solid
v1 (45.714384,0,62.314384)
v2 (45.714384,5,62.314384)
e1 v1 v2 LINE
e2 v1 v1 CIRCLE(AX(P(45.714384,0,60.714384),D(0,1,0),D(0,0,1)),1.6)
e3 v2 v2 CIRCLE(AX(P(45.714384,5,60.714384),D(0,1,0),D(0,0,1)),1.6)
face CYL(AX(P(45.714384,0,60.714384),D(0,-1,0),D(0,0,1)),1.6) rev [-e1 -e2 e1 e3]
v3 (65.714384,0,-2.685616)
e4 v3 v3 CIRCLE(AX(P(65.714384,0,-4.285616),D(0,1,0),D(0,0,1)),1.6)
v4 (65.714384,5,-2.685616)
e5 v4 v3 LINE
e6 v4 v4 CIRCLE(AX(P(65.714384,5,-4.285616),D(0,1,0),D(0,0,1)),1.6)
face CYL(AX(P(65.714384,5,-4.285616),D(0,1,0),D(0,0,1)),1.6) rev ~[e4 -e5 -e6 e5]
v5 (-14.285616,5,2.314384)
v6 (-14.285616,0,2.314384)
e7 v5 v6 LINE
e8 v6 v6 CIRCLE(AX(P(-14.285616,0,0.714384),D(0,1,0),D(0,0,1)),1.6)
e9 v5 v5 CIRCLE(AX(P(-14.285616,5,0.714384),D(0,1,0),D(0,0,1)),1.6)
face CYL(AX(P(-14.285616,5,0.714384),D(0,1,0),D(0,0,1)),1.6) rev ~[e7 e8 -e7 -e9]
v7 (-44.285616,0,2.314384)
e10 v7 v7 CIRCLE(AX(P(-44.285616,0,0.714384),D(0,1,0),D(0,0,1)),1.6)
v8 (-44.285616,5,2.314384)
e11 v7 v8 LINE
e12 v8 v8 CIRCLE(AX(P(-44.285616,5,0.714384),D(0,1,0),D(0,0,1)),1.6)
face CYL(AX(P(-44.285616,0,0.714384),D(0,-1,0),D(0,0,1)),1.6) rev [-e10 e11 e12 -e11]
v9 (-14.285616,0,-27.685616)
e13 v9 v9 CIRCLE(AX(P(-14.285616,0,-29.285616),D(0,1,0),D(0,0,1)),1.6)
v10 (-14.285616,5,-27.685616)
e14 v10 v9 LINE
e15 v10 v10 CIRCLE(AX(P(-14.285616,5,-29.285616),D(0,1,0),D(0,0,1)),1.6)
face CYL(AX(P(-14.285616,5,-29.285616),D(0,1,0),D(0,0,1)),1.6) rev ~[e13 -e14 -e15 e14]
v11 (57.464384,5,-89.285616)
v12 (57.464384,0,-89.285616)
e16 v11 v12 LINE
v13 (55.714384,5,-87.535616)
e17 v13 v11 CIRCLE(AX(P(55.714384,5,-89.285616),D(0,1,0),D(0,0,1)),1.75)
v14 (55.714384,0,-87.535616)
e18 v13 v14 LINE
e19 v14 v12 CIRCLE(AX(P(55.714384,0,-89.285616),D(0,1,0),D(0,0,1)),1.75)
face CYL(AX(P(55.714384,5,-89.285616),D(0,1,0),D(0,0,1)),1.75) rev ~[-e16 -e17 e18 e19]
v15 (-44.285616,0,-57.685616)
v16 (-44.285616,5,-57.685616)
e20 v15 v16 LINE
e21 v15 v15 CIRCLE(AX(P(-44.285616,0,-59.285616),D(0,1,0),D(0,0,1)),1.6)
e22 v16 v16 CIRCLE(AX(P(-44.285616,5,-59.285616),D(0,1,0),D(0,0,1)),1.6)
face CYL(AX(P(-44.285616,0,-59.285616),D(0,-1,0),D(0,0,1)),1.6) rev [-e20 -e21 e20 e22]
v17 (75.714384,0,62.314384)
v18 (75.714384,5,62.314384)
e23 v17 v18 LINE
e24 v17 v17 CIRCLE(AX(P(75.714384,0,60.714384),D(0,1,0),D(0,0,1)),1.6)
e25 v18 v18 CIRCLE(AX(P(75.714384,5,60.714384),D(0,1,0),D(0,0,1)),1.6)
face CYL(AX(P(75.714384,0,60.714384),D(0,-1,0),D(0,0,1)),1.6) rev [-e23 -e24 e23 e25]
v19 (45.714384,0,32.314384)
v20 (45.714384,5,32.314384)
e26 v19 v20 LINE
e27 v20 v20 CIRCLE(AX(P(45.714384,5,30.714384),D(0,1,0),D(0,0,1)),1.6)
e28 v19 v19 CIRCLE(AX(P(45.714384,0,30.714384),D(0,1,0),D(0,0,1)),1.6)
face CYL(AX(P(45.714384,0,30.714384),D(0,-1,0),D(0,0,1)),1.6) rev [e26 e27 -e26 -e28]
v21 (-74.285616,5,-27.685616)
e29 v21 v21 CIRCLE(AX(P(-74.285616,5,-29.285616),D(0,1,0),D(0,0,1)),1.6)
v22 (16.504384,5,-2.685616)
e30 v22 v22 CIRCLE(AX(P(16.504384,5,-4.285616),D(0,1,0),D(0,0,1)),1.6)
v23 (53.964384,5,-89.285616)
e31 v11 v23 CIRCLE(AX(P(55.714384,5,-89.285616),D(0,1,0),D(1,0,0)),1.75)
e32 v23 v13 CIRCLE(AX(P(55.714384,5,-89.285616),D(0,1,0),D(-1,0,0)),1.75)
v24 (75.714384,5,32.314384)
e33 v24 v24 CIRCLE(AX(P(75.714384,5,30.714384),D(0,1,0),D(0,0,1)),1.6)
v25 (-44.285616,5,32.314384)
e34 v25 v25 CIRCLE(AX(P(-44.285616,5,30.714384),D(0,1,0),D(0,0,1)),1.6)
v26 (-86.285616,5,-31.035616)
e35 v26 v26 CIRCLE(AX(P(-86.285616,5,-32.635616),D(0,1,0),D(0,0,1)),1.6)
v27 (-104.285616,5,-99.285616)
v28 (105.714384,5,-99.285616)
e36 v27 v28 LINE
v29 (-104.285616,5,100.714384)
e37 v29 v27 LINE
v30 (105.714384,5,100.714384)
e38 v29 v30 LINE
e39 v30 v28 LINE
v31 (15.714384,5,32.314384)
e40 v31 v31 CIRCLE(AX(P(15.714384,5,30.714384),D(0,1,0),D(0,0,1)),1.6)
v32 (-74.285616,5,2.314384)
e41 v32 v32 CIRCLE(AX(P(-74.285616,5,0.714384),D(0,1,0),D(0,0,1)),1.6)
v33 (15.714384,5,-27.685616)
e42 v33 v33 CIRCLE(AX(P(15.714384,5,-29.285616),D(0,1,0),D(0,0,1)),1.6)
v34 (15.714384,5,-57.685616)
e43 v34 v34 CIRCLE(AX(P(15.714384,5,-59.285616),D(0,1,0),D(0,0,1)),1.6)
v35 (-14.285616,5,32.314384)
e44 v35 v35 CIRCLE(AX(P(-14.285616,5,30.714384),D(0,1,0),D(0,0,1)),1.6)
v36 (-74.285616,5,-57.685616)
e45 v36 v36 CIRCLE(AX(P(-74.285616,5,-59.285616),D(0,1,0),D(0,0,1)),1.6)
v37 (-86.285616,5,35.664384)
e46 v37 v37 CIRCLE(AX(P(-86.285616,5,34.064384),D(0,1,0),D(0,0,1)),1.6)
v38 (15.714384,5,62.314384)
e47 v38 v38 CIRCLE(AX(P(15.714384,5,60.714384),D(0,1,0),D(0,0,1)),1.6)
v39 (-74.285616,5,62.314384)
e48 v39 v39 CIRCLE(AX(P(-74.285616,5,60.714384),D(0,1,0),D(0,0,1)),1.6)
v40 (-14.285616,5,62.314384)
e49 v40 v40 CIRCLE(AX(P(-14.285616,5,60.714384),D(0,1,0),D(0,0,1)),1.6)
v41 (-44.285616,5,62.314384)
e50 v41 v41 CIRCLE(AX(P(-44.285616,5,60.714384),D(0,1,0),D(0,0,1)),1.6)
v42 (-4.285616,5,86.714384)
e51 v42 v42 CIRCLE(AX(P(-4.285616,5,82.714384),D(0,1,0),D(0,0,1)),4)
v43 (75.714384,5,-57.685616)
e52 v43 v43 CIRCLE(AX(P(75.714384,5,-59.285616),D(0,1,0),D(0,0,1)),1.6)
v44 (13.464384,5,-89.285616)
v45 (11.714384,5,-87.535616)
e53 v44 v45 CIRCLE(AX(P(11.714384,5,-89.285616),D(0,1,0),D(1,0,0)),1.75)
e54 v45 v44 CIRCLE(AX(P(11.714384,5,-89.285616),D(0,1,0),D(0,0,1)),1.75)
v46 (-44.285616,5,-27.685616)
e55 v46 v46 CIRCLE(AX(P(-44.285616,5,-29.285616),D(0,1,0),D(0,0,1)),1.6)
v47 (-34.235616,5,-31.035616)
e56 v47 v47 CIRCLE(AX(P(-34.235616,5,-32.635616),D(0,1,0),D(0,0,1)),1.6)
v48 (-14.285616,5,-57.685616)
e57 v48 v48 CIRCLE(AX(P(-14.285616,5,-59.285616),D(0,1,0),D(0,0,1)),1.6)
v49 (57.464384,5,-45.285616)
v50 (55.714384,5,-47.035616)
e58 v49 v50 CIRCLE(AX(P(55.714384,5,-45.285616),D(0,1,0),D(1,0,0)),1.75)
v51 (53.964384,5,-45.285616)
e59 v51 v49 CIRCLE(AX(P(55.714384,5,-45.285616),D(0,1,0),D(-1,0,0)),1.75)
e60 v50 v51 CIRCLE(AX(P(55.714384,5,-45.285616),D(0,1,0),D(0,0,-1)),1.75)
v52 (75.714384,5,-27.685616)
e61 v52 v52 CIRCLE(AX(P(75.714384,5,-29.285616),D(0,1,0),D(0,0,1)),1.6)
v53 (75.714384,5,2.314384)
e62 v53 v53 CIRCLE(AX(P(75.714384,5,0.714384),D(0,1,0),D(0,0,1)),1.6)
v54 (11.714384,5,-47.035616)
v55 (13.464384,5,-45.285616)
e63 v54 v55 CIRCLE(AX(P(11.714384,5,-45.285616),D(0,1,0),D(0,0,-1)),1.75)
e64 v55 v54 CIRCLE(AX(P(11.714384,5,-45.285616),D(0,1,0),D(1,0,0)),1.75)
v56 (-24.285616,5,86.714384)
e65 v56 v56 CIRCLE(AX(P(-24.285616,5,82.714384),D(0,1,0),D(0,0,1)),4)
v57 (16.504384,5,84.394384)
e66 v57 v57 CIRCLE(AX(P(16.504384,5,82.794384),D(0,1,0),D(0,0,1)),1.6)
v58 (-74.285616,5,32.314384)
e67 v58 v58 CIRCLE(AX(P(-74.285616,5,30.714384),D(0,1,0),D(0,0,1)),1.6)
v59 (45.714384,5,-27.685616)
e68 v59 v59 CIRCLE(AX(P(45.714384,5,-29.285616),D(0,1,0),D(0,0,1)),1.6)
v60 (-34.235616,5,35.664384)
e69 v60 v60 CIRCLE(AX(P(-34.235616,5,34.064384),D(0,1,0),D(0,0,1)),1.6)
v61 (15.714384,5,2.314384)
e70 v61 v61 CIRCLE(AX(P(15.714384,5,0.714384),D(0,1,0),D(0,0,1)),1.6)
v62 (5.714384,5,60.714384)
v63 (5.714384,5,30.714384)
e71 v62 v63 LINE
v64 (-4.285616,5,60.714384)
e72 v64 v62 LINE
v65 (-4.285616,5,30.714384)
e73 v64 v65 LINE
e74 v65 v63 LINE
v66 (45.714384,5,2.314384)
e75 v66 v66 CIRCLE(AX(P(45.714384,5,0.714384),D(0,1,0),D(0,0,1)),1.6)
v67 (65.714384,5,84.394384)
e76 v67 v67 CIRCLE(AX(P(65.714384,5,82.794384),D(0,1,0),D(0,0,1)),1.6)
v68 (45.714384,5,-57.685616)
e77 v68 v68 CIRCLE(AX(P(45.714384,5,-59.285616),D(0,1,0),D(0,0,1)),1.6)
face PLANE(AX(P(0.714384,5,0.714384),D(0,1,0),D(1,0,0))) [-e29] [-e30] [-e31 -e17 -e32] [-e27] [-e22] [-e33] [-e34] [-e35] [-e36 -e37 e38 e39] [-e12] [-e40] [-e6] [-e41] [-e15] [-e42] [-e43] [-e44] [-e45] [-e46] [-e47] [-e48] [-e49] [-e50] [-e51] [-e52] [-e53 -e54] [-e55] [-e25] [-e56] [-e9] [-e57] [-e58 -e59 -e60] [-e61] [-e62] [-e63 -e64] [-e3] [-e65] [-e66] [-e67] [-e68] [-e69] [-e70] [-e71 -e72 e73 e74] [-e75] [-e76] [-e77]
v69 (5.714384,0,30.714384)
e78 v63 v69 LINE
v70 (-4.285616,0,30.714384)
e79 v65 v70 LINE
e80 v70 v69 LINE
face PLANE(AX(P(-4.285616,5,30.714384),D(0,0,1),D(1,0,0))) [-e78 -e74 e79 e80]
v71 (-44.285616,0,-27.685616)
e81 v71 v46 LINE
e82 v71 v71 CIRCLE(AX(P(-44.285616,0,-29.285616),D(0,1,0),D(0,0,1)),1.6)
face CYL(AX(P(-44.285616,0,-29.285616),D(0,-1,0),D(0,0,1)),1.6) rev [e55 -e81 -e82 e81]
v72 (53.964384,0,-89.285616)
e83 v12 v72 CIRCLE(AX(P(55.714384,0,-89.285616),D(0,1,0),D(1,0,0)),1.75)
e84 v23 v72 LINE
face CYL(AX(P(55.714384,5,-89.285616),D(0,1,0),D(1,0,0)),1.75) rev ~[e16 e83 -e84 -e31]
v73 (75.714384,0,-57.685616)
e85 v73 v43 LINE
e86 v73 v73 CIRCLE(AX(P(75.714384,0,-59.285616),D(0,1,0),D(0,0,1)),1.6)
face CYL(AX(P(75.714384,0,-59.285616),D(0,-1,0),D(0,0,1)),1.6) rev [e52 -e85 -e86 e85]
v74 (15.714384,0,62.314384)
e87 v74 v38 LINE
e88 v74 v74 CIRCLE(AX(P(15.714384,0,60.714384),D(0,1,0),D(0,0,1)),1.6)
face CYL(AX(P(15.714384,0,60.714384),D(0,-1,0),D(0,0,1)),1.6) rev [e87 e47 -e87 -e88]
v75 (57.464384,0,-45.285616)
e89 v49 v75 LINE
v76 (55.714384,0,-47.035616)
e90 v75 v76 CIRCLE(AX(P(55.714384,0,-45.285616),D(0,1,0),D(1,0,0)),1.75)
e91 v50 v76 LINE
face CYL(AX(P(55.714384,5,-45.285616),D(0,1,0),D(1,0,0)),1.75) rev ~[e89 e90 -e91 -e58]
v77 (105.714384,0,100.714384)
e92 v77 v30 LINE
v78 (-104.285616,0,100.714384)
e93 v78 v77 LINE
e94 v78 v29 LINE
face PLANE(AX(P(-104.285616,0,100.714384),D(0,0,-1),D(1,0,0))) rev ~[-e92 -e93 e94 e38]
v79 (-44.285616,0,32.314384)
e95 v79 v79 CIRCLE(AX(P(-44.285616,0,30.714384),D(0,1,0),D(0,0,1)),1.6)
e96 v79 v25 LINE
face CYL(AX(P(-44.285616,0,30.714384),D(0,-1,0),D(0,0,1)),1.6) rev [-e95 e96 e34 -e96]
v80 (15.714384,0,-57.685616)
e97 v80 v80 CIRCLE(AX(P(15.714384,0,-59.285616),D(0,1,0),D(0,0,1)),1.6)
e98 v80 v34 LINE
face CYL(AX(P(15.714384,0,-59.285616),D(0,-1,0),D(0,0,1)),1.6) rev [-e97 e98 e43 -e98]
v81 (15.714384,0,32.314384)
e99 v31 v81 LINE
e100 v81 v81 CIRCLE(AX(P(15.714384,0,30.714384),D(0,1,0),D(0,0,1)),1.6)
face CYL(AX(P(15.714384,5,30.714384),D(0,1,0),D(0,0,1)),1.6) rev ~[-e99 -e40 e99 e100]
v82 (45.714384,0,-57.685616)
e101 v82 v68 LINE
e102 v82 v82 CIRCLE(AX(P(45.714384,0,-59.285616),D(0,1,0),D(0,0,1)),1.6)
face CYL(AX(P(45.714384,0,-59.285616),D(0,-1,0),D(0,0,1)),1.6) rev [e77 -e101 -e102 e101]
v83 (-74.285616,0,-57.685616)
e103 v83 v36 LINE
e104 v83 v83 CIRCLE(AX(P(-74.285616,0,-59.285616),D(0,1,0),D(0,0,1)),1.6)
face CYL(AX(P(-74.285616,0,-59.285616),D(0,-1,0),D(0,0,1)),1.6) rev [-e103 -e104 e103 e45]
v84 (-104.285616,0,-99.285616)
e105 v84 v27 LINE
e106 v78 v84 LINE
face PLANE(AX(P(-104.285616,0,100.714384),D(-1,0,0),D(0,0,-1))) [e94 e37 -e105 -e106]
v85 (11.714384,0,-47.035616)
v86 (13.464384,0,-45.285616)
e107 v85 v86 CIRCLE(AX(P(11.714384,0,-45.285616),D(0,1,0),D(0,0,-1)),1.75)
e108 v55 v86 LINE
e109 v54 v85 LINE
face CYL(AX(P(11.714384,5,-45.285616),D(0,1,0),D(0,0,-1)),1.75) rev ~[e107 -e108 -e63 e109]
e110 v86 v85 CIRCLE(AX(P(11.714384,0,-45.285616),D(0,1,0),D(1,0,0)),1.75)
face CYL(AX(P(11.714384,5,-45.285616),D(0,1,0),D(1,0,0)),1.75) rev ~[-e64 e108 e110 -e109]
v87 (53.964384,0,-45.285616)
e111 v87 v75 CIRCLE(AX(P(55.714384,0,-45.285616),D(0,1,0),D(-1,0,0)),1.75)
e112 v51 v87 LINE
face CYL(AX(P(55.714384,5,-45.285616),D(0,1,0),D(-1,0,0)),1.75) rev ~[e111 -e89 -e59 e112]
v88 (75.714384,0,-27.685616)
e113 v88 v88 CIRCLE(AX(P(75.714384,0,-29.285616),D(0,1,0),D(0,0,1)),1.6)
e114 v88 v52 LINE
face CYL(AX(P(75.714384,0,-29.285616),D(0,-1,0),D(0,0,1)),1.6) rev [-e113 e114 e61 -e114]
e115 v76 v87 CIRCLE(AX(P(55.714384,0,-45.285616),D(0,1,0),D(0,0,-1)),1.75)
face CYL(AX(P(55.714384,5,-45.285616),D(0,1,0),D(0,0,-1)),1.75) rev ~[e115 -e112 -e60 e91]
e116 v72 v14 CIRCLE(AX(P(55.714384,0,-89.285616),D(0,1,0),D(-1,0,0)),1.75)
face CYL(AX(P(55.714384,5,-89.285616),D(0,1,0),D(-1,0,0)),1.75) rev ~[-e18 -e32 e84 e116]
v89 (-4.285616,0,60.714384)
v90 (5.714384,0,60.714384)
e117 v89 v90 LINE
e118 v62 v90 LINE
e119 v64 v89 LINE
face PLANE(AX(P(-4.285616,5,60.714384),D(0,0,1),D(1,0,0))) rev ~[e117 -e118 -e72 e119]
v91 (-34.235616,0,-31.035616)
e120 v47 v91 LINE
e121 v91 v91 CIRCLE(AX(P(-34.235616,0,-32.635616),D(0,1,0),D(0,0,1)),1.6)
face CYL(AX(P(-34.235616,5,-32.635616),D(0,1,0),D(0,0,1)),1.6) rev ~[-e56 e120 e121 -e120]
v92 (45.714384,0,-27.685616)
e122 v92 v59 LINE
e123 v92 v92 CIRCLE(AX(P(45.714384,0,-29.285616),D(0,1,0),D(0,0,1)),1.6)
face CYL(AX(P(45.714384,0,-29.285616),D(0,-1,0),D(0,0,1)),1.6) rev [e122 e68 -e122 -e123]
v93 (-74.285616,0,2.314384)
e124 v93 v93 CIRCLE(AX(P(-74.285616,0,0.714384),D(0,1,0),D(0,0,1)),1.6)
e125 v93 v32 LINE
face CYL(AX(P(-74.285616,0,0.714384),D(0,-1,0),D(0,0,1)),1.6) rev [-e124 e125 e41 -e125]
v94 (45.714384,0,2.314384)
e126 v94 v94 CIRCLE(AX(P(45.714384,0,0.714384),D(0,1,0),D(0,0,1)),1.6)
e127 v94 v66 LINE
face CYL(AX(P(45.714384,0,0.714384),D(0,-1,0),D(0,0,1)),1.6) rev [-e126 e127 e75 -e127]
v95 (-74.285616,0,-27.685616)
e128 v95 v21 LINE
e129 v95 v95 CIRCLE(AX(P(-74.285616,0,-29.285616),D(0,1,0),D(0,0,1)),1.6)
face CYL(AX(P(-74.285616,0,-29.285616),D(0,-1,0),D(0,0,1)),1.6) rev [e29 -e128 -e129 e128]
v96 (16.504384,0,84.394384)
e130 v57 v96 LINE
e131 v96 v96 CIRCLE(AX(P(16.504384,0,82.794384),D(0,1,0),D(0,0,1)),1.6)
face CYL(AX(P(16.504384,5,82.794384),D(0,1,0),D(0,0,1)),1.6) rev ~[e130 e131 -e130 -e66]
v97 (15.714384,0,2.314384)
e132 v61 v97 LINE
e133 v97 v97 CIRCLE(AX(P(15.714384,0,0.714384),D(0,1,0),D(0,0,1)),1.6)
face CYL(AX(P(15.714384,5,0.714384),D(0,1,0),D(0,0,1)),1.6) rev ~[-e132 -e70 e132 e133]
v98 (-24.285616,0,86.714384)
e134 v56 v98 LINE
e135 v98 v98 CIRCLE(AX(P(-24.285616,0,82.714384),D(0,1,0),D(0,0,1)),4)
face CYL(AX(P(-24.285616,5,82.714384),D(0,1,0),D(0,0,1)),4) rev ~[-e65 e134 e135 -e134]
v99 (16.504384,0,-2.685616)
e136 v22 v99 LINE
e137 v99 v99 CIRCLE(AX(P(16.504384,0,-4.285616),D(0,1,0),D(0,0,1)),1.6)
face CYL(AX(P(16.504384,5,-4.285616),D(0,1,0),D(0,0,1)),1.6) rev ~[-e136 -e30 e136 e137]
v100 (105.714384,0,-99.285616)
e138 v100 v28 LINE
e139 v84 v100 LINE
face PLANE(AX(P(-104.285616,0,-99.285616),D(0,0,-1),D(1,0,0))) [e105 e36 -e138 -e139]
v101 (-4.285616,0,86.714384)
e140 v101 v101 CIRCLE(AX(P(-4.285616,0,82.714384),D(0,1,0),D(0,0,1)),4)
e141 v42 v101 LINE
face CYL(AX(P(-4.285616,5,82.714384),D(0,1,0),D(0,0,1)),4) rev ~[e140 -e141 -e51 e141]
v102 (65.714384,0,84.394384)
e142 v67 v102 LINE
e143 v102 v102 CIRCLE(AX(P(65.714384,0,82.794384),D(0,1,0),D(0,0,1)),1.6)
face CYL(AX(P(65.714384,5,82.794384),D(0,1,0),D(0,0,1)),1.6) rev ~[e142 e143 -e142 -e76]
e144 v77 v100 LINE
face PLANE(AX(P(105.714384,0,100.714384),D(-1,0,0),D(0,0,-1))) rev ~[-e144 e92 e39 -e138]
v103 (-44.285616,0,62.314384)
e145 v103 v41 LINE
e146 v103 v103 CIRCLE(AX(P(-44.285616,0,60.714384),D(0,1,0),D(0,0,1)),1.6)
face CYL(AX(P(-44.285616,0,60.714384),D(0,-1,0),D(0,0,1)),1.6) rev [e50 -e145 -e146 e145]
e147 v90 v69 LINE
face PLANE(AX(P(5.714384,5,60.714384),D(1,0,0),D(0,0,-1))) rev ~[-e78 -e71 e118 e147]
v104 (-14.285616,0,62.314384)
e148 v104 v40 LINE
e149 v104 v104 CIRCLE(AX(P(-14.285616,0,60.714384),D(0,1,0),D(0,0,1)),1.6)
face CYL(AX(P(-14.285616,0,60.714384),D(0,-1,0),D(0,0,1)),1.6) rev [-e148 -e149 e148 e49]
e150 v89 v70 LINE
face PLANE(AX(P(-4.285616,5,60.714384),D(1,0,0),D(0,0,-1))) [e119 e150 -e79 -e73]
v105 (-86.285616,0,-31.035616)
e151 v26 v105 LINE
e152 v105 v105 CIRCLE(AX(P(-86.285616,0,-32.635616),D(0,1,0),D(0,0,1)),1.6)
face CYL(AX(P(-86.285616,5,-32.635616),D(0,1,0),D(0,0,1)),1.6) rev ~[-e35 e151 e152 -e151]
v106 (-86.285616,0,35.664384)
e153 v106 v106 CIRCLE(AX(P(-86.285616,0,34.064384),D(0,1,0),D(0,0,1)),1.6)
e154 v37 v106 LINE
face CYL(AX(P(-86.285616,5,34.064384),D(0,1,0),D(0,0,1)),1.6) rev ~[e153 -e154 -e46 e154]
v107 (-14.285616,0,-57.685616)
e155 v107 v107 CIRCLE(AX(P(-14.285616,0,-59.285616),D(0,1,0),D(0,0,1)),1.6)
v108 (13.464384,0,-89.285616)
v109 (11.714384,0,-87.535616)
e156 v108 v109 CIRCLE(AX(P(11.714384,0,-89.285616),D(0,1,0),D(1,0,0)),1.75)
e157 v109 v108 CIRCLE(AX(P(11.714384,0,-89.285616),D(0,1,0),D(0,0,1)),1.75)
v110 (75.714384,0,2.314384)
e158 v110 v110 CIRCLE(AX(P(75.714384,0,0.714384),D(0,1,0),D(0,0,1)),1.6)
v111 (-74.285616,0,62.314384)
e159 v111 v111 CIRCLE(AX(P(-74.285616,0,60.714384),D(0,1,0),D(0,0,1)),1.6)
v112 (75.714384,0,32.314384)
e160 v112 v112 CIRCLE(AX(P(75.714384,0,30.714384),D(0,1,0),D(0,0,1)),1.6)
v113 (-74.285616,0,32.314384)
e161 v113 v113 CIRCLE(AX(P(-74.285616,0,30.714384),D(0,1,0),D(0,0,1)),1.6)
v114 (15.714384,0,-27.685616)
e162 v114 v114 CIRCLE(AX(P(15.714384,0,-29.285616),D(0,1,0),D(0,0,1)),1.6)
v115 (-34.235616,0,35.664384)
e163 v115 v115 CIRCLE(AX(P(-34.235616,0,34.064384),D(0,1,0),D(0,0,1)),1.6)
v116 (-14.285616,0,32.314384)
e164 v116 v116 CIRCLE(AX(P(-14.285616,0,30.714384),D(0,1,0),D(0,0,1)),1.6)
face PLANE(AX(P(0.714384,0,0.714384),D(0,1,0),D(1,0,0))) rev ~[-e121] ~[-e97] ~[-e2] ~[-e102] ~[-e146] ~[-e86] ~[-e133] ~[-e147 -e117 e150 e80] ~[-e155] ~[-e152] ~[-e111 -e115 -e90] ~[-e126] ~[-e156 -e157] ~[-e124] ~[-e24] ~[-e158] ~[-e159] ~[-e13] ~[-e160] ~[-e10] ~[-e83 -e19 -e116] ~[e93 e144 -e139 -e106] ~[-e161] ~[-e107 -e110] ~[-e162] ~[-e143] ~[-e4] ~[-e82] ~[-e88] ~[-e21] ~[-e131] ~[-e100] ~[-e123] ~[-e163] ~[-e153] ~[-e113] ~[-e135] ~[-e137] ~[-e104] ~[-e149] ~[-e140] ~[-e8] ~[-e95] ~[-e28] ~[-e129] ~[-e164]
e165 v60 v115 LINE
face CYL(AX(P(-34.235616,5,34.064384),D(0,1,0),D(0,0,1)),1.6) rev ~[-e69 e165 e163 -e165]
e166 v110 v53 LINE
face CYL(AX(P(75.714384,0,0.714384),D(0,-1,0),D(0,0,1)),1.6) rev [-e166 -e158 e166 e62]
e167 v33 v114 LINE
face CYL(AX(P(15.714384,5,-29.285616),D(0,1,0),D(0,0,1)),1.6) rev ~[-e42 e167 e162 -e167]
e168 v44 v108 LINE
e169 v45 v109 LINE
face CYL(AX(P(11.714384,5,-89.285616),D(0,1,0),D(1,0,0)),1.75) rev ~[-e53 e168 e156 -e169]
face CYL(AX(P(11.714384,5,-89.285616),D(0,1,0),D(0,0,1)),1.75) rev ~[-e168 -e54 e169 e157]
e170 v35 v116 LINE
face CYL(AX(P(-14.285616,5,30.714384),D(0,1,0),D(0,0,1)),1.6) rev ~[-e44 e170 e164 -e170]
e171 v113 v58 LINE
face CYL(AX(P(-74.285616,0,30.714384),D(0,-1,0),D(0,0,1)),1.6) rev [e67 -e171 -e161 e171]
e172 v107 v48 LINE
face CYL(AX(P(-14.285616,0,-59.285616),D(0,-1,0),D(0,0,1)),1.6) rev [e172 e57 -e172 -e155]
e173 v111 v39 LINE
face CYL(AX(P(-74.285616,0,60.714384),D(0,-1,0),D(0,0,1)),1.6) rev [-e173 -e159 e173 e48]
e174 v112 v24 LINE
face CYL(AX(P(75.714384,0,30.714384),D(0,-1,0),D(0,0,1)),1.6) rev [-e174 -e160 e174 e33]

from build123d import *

# Parameters (mm, degrees)
SKETCH_1_W          = 210
SKETCH_1_H          = 200
SKETCH_1_R          = 1.6
EXTRUDE_1_DEPTH     = 5
SKETCH_3_R          = 1.6
CUT_EXTRUDE_1_DEPTH = 5
SKETCH_4_R          = 1.6
SKETCH_4_R_2        = 4
CUT_EXTRUDE_2_DEPTH = 5
SKETCH_5_R          = 1.6
CUT_EXTRUDE_3_DEPTH = 147.095579079
SKETCH_6_W          = 10
SKETCH_6_H          = 30
CUT_EXTRUDE_4_DEPTH = 147.095579079
CUT_EXTRUDE_5_DEPTH = 147.095579079


with BuildPart() as part:
    # 草图1 → 凸台-拉伸1 (new body)
    with BuildSketch(Plane(origin=(0, 0, 0), x_dir=(1, 0, 0), z_dir=(0, 1, 0))):
        with Locations((0.714384236, -0.714384236)):
            Rectangle(SKETCH_1_W, SKETCH_1_H)
        with Locations(Location((-74.285615764, -60.714384236, 0), (0, 0, 270))):
            Circle(SKETCH_1_R, mode=Mode.SUBTRACT)
        with Locations(Location((75.714384236, 59.285615764, 0), (0, 0, 270))):
            Circle(SKETCH_1_R, mode=Mode.SUBTRACT)
        with Locations(Location((-74.285615764, 29.285615764, 0), (0, 0, 270))):
            Circle(SKETCH_1_R, mode=Mode.SUBTRACT)
        with Locations(Location((-74.285615764, -0.714384236, 0), (0, 0, 270))):
            Circle(SKETCH_1_R, mode=Mode.SUBTRACT)
        with Locations(Location((-74.285615764, -30.714384236, 0), (0, 0, 270))):
            Circle(SKETCH_1_R, mode=Mode.SUBTRACT)
        with Locations(Location((-44.285615764, -60.714384236, 0), (0, 0, 270))):
            Circle(SKETCH_1_R, mode=Mode.SUBTRACT)
        with Locations(Location((-44.285615764, 59.285615764, 0), (0, 0, 270))):
            Circle(SKETCH_1_R, mode=Mode.SUBTRACT)
        with Locations(Location((75.714384236, -30.714384236, 0), (0, 0, 270))):
            Circle(SKETCH_1_R, mode=Mode.SUBTRACT)
        with Locations(Location((75.714384236, -0.714384236, 0), (0, 0, 270))):
            Circle(SKETCH_1_R, mode=Mode.SUBTRACT)
        with Locations(Location((75.714384236, 29.285615764, 0), (0, 0, 270))):
            Circle(SKETCH_1_R, mode=Mode.SUBTRACT)
        with Locations(Location((75.714384236, -60.714384236, 0), (0, 0, 270))):
            Circle(SKETCH_1_R, mode=Mode.SUBTRACT)
        with Locations(Location((-74.285615764, 59.285615764, 0), (0, 0, 270))):
            Circle(SKETCH_1_R, mode=Mode.SUBTRACT)
        with Locations(Location((-44.285615764, 29.285615764, 0), (0, 0, 270))):
            Circle(SKETCH_1_R, mode=Mode.SUBTRACT)
        with Locations(Location((-44.285615764, -0.714384236, 0), (0, 0, 270))):
            Circle(SKETCH_1_R, mode=Mode.SUBTRACT)
        with Locations(Location((-44.285615764, -30.714384236, 0), (0, 0, 270))):
            Circle(SKETCH_1_R, mode=Mode.SUBTRACT)
        with Locations(Location((-14.285615764, 59.285615764, 0), (0, 0, 270))):
            Circle(SKETCH_1_R, mode=Mode.SUBTRACT)
        with Locations(Location((-14.285615764, -60.714384236, 0), (0, 0, 270))):
            Circle(SKETCH_1_R, mode=Mode.SUBTRACT)
        with Locations(Location((15.714384236, 59.285615764, 0), (0, 0, 270))):
            Circle(SKETCH_1_R, mode=Mode.SUBTRACT)
        with Locations(Location((15.714384236, -60.714384236, 0), (0, 0, 270))):
            Circle(SKETCH_1_R, mode=Mode.SUBTRACT)
        with Locations(Location((45.714384236, 59.285615764, 0), (0, 0, 270))):
            Circle(SKETCH_1_R, mode=Mode.SUBTRACT)
        with Locations(Location((45.714384236, 29.285615764, 0), (0, 0, 270))):
            Circle(SKETCH_1_R, mode=Mode.SUBTRACT)
        with Locations(Location((45.714384236, -0.714384236, 0), (0, 0, 270))):
            Circle(SKETCH_1_R, mode=Mode.SUBTRACT)
        with Locations(Location((45.714384236, -30.714384236, 0), (0, 0, 270))):
            Circle(SKETCH_1_R, mode=Mode.SUBTRACT)
        with Locations(Location((45.714384236, -60.714384236, 0), (0, 0, 270))):
            Circle(SKETCH_1_R, mode=Mode.SUBTRACT)
    extrude(amount=EXTRUDE_1_DEPTH)

    # 草图3 → 切除-拉伸1 (cut)
    with BuildSketch(Plane(origin=(0, 5, 0), x_dir=(1, 0, 0), z_dir=(0, 1, 0))):
        with Locations(Location((-86.285615764, -34.064384236, 0), (0, 0, 270))):
            Circle(SKETCH_3_R)
        with Locations(Location((-34.235615764, 32.635615764, 0), (0, 0, 270))):
            Circle(SKETCH_3_R)
        with Locations(Location((-34.235615764, -34.064384236, 0), (0, 0, 270))):
            Circle(SKETCH_3_R)
        with Locations(Location((-86.285615764, 32.635615764, 0), (0, 0, 270))):
            Circle(SKETCH_3_R)
        with Locations(Location((16.504384236, -82.794384236, 0), (0, 0, 270))):
            Circle(SKETCH_3_R)
        with Locations(Location((65.714384236, 4.285615764, 0), (0, 0, 270))):
            Circle(SKETCH_3_R)
        with Locations(Location((65.714384236, -82.794384236, 0), (0, 0, 270))):
            Circle(SKETCH_3_R)
        with Locations(Location((16.504384236, 4.285615764, 0), (0, 0, 270))):
            Circle(SKETCH_3_R)
    extrude(amount=-CUT_EXTRUDE_1_DEPTH, mode=Mode.SUBTRACT)

    # 草图4 → 切除-拉伸2 (cut)
    with BuildSketch(Plane(origin=(0, 5, 0), x_dir=(1, 0, 0), z_dir=(0, 1, 0))):
        with Locations(Location((65.714384236, -82.794384236, 0), (0, 0, 270))):
            Circle(SKETCH_4_R)
        with Locations(Location((-4.285615764, -82.714384236, 0), (0, 0, 270))):
            Circle(SKETCH_4_R_2)
        with Locations(Location((-24.285615764, -82.714384236, 0), (0, 0, 270))):
            Circle(SKETCH_4_R_2)
    extrude(amount=-CUT_EXTRUDE_2_DEPTH, mode=Mode.SUBTRACT)

    # 草图5 → 切除-拉伸3 (cut, through all)
    with BuildSketch(Plane(origin=(0, 5, 0), x_dir=(1, 0, 0), z_dir=(0, 1, 0))):
        with Locations(Location((-14.285615764, 59.285615764, 0), (0, 0, 270))):
            Circle(SKETCH_5_R)
        with Locations(Location((15.714384236, 59.285615764, 0), (0, 0, 270))):
            Circle(SKETCH_5_R)
        with Locations(Location((-14.285615764, 29.285615764, 0), (0, 0, 270))):
            Circle(SKETCH_5_R)
        with Locations(Location((15.714384236, 29.285615764, 0), (0, 0, 270))):
            Circle(SKETCH_5_R)
        with Locations(Location((-14.285615764, -0.714384236, 0), (0, 0, 270))):
            Circle(SKETCH_5_R)
        with Locations(Location((15.714384236, -0.714384236, 0), (0, 0, 270))):
            Circle(SKETCH_5_R)
        with Locations(Location((-14.285615764, -30.714384236, 0), (0, 0, 270))):
            Circle(SKETCH_5_R)
        with Locations(Location((15.714384236, -30.714384236, 0), (0, 0, 270))):
            Circle(SKETCH_5_R)
    extrude(amount=-CUT_EXTRUDE_3_DEPTH, mode=Mode.SUBTRACT)

    # 草图6 → 切除-拉伸4 (cut, through all)
    with BuildSketch(Plane(origin=(0, 5, 0), x_dir=(1, 0, 0), z_dir=(0, 1, 0))):
        with Locations((0.714384236, -45.714384236)):
            Rectangle(SKETCH_6_W, SKETCH_6_H)
    extrude(amount=-CUT_EXTRUDE_4_DEPTH, mode=Mode.SUBTRACT)

    # 草图7 → 切除-拉伸5 (cut, through all)
    with BuildSketch(Plane(origin=(0, 5, 0), x_dir=(1, 0, 0), z_dir=(0, 1, 0))):
        with BuildLine():
            Line((11.714384236, 87.535615764), (11.714384236, 89.285615764))
            Line((11.714384236, 89.285615764), (13.464384236, 89.285615764))
            ThreePointArc((13.464384236, 89.285615764), (10.476947369, 90.523052631), (11.714384236, 87.535615764))
        make_face()
        with BuildLine():
            Line((13.464384236, 89.285615764), (11.714384236, 89.285615764))
            Line((11.714384236, 89.285615764), (11.714384236, 87.535615764))
            ThreePointArc((11.714384236, 87.535615764), (12.951821103, 88.048178897), (13.464384236, 89.285615764))
        make_face()
        with BuildLine():
            ThreePointArc((13.464384236, 45.285615764), (12.951821103, 46.523052631), (11.714384236, 47.035615764))
            Line((11.714384236, 47.035615764), (11.714384236, 45.285615764))
            Line((11.714384236, 45.285615764), (13.464384236, 45.285615764))
        make_face()
        with BuildLine():
            Line((11.714384236, 45.285615764), (11.714384236, 47.035615764))
            ThreePointArc((11.714384236, 47.035615764), (10.476947369, 44.048178897), (13.464384236, 45.285615764))
            Line((13.464384236, 45.285615764), (11.714384236, 45.285615764))
        make_face()
        with BuildLine():
            ThreePointArc((57.464384236, 45.285615764), (56.951821103, 46.523052631), (55.714384236, 47.035615764))
            Line((55.714384236, 47.035615764), (55.714384236, 45.285615764))
            Line((55.714384236, 45.285615764), (53.964384236, 45.285615764))
            ThreePointArc((53.964384236, 45.285615764), (55.714384236, 43.535615764), (57.464384236, 45.285615764))
        make_face()
        with BuildLine():
            Line((55.714384236, 45.285615764), (55.714384236, 47.035615764))
            ThreePointArc((55.714384236, 47.035615764), (54.476947369, 46.523052631), (53.964384236, 45.285615764))
            Line((53.964384236, 45.285615764), (55.714384236, 45.285615764))
        make_face()
        with BuildLine():
            ThreePointArc((57.464384236, 89.285615764), (55.714384236, 91.035615764), (53.964384236, 89.285615764))
            Line((53.964384236, 89.285615764), (55.714384236, 89.285615764))
            Line((55.714384236, 89.285615764), (55.714384236, 87.535615764))
            ThreePointArc((55.714384236, 87.535615764), (56.951821103, 88.048178897), (57.464384236, 89.285615764))
        make_face()
        with BuildLine():
            Line((55.714384236, 89.285615764), (53.964384236, 89.285615764))
            ThreePointArc((53.964384236, 89.285615764), (54.476947369, 88.048178897), (55.714384236, 87.535615764))
            Line((55.714384236, 87.535615764), (55.714384236, 89.285615764))
        make_face()
    extrude(amount=-CUT_EXTRUDE_5_DEPTH, mode=Mode.SUBTRACT)


solid = part.part
